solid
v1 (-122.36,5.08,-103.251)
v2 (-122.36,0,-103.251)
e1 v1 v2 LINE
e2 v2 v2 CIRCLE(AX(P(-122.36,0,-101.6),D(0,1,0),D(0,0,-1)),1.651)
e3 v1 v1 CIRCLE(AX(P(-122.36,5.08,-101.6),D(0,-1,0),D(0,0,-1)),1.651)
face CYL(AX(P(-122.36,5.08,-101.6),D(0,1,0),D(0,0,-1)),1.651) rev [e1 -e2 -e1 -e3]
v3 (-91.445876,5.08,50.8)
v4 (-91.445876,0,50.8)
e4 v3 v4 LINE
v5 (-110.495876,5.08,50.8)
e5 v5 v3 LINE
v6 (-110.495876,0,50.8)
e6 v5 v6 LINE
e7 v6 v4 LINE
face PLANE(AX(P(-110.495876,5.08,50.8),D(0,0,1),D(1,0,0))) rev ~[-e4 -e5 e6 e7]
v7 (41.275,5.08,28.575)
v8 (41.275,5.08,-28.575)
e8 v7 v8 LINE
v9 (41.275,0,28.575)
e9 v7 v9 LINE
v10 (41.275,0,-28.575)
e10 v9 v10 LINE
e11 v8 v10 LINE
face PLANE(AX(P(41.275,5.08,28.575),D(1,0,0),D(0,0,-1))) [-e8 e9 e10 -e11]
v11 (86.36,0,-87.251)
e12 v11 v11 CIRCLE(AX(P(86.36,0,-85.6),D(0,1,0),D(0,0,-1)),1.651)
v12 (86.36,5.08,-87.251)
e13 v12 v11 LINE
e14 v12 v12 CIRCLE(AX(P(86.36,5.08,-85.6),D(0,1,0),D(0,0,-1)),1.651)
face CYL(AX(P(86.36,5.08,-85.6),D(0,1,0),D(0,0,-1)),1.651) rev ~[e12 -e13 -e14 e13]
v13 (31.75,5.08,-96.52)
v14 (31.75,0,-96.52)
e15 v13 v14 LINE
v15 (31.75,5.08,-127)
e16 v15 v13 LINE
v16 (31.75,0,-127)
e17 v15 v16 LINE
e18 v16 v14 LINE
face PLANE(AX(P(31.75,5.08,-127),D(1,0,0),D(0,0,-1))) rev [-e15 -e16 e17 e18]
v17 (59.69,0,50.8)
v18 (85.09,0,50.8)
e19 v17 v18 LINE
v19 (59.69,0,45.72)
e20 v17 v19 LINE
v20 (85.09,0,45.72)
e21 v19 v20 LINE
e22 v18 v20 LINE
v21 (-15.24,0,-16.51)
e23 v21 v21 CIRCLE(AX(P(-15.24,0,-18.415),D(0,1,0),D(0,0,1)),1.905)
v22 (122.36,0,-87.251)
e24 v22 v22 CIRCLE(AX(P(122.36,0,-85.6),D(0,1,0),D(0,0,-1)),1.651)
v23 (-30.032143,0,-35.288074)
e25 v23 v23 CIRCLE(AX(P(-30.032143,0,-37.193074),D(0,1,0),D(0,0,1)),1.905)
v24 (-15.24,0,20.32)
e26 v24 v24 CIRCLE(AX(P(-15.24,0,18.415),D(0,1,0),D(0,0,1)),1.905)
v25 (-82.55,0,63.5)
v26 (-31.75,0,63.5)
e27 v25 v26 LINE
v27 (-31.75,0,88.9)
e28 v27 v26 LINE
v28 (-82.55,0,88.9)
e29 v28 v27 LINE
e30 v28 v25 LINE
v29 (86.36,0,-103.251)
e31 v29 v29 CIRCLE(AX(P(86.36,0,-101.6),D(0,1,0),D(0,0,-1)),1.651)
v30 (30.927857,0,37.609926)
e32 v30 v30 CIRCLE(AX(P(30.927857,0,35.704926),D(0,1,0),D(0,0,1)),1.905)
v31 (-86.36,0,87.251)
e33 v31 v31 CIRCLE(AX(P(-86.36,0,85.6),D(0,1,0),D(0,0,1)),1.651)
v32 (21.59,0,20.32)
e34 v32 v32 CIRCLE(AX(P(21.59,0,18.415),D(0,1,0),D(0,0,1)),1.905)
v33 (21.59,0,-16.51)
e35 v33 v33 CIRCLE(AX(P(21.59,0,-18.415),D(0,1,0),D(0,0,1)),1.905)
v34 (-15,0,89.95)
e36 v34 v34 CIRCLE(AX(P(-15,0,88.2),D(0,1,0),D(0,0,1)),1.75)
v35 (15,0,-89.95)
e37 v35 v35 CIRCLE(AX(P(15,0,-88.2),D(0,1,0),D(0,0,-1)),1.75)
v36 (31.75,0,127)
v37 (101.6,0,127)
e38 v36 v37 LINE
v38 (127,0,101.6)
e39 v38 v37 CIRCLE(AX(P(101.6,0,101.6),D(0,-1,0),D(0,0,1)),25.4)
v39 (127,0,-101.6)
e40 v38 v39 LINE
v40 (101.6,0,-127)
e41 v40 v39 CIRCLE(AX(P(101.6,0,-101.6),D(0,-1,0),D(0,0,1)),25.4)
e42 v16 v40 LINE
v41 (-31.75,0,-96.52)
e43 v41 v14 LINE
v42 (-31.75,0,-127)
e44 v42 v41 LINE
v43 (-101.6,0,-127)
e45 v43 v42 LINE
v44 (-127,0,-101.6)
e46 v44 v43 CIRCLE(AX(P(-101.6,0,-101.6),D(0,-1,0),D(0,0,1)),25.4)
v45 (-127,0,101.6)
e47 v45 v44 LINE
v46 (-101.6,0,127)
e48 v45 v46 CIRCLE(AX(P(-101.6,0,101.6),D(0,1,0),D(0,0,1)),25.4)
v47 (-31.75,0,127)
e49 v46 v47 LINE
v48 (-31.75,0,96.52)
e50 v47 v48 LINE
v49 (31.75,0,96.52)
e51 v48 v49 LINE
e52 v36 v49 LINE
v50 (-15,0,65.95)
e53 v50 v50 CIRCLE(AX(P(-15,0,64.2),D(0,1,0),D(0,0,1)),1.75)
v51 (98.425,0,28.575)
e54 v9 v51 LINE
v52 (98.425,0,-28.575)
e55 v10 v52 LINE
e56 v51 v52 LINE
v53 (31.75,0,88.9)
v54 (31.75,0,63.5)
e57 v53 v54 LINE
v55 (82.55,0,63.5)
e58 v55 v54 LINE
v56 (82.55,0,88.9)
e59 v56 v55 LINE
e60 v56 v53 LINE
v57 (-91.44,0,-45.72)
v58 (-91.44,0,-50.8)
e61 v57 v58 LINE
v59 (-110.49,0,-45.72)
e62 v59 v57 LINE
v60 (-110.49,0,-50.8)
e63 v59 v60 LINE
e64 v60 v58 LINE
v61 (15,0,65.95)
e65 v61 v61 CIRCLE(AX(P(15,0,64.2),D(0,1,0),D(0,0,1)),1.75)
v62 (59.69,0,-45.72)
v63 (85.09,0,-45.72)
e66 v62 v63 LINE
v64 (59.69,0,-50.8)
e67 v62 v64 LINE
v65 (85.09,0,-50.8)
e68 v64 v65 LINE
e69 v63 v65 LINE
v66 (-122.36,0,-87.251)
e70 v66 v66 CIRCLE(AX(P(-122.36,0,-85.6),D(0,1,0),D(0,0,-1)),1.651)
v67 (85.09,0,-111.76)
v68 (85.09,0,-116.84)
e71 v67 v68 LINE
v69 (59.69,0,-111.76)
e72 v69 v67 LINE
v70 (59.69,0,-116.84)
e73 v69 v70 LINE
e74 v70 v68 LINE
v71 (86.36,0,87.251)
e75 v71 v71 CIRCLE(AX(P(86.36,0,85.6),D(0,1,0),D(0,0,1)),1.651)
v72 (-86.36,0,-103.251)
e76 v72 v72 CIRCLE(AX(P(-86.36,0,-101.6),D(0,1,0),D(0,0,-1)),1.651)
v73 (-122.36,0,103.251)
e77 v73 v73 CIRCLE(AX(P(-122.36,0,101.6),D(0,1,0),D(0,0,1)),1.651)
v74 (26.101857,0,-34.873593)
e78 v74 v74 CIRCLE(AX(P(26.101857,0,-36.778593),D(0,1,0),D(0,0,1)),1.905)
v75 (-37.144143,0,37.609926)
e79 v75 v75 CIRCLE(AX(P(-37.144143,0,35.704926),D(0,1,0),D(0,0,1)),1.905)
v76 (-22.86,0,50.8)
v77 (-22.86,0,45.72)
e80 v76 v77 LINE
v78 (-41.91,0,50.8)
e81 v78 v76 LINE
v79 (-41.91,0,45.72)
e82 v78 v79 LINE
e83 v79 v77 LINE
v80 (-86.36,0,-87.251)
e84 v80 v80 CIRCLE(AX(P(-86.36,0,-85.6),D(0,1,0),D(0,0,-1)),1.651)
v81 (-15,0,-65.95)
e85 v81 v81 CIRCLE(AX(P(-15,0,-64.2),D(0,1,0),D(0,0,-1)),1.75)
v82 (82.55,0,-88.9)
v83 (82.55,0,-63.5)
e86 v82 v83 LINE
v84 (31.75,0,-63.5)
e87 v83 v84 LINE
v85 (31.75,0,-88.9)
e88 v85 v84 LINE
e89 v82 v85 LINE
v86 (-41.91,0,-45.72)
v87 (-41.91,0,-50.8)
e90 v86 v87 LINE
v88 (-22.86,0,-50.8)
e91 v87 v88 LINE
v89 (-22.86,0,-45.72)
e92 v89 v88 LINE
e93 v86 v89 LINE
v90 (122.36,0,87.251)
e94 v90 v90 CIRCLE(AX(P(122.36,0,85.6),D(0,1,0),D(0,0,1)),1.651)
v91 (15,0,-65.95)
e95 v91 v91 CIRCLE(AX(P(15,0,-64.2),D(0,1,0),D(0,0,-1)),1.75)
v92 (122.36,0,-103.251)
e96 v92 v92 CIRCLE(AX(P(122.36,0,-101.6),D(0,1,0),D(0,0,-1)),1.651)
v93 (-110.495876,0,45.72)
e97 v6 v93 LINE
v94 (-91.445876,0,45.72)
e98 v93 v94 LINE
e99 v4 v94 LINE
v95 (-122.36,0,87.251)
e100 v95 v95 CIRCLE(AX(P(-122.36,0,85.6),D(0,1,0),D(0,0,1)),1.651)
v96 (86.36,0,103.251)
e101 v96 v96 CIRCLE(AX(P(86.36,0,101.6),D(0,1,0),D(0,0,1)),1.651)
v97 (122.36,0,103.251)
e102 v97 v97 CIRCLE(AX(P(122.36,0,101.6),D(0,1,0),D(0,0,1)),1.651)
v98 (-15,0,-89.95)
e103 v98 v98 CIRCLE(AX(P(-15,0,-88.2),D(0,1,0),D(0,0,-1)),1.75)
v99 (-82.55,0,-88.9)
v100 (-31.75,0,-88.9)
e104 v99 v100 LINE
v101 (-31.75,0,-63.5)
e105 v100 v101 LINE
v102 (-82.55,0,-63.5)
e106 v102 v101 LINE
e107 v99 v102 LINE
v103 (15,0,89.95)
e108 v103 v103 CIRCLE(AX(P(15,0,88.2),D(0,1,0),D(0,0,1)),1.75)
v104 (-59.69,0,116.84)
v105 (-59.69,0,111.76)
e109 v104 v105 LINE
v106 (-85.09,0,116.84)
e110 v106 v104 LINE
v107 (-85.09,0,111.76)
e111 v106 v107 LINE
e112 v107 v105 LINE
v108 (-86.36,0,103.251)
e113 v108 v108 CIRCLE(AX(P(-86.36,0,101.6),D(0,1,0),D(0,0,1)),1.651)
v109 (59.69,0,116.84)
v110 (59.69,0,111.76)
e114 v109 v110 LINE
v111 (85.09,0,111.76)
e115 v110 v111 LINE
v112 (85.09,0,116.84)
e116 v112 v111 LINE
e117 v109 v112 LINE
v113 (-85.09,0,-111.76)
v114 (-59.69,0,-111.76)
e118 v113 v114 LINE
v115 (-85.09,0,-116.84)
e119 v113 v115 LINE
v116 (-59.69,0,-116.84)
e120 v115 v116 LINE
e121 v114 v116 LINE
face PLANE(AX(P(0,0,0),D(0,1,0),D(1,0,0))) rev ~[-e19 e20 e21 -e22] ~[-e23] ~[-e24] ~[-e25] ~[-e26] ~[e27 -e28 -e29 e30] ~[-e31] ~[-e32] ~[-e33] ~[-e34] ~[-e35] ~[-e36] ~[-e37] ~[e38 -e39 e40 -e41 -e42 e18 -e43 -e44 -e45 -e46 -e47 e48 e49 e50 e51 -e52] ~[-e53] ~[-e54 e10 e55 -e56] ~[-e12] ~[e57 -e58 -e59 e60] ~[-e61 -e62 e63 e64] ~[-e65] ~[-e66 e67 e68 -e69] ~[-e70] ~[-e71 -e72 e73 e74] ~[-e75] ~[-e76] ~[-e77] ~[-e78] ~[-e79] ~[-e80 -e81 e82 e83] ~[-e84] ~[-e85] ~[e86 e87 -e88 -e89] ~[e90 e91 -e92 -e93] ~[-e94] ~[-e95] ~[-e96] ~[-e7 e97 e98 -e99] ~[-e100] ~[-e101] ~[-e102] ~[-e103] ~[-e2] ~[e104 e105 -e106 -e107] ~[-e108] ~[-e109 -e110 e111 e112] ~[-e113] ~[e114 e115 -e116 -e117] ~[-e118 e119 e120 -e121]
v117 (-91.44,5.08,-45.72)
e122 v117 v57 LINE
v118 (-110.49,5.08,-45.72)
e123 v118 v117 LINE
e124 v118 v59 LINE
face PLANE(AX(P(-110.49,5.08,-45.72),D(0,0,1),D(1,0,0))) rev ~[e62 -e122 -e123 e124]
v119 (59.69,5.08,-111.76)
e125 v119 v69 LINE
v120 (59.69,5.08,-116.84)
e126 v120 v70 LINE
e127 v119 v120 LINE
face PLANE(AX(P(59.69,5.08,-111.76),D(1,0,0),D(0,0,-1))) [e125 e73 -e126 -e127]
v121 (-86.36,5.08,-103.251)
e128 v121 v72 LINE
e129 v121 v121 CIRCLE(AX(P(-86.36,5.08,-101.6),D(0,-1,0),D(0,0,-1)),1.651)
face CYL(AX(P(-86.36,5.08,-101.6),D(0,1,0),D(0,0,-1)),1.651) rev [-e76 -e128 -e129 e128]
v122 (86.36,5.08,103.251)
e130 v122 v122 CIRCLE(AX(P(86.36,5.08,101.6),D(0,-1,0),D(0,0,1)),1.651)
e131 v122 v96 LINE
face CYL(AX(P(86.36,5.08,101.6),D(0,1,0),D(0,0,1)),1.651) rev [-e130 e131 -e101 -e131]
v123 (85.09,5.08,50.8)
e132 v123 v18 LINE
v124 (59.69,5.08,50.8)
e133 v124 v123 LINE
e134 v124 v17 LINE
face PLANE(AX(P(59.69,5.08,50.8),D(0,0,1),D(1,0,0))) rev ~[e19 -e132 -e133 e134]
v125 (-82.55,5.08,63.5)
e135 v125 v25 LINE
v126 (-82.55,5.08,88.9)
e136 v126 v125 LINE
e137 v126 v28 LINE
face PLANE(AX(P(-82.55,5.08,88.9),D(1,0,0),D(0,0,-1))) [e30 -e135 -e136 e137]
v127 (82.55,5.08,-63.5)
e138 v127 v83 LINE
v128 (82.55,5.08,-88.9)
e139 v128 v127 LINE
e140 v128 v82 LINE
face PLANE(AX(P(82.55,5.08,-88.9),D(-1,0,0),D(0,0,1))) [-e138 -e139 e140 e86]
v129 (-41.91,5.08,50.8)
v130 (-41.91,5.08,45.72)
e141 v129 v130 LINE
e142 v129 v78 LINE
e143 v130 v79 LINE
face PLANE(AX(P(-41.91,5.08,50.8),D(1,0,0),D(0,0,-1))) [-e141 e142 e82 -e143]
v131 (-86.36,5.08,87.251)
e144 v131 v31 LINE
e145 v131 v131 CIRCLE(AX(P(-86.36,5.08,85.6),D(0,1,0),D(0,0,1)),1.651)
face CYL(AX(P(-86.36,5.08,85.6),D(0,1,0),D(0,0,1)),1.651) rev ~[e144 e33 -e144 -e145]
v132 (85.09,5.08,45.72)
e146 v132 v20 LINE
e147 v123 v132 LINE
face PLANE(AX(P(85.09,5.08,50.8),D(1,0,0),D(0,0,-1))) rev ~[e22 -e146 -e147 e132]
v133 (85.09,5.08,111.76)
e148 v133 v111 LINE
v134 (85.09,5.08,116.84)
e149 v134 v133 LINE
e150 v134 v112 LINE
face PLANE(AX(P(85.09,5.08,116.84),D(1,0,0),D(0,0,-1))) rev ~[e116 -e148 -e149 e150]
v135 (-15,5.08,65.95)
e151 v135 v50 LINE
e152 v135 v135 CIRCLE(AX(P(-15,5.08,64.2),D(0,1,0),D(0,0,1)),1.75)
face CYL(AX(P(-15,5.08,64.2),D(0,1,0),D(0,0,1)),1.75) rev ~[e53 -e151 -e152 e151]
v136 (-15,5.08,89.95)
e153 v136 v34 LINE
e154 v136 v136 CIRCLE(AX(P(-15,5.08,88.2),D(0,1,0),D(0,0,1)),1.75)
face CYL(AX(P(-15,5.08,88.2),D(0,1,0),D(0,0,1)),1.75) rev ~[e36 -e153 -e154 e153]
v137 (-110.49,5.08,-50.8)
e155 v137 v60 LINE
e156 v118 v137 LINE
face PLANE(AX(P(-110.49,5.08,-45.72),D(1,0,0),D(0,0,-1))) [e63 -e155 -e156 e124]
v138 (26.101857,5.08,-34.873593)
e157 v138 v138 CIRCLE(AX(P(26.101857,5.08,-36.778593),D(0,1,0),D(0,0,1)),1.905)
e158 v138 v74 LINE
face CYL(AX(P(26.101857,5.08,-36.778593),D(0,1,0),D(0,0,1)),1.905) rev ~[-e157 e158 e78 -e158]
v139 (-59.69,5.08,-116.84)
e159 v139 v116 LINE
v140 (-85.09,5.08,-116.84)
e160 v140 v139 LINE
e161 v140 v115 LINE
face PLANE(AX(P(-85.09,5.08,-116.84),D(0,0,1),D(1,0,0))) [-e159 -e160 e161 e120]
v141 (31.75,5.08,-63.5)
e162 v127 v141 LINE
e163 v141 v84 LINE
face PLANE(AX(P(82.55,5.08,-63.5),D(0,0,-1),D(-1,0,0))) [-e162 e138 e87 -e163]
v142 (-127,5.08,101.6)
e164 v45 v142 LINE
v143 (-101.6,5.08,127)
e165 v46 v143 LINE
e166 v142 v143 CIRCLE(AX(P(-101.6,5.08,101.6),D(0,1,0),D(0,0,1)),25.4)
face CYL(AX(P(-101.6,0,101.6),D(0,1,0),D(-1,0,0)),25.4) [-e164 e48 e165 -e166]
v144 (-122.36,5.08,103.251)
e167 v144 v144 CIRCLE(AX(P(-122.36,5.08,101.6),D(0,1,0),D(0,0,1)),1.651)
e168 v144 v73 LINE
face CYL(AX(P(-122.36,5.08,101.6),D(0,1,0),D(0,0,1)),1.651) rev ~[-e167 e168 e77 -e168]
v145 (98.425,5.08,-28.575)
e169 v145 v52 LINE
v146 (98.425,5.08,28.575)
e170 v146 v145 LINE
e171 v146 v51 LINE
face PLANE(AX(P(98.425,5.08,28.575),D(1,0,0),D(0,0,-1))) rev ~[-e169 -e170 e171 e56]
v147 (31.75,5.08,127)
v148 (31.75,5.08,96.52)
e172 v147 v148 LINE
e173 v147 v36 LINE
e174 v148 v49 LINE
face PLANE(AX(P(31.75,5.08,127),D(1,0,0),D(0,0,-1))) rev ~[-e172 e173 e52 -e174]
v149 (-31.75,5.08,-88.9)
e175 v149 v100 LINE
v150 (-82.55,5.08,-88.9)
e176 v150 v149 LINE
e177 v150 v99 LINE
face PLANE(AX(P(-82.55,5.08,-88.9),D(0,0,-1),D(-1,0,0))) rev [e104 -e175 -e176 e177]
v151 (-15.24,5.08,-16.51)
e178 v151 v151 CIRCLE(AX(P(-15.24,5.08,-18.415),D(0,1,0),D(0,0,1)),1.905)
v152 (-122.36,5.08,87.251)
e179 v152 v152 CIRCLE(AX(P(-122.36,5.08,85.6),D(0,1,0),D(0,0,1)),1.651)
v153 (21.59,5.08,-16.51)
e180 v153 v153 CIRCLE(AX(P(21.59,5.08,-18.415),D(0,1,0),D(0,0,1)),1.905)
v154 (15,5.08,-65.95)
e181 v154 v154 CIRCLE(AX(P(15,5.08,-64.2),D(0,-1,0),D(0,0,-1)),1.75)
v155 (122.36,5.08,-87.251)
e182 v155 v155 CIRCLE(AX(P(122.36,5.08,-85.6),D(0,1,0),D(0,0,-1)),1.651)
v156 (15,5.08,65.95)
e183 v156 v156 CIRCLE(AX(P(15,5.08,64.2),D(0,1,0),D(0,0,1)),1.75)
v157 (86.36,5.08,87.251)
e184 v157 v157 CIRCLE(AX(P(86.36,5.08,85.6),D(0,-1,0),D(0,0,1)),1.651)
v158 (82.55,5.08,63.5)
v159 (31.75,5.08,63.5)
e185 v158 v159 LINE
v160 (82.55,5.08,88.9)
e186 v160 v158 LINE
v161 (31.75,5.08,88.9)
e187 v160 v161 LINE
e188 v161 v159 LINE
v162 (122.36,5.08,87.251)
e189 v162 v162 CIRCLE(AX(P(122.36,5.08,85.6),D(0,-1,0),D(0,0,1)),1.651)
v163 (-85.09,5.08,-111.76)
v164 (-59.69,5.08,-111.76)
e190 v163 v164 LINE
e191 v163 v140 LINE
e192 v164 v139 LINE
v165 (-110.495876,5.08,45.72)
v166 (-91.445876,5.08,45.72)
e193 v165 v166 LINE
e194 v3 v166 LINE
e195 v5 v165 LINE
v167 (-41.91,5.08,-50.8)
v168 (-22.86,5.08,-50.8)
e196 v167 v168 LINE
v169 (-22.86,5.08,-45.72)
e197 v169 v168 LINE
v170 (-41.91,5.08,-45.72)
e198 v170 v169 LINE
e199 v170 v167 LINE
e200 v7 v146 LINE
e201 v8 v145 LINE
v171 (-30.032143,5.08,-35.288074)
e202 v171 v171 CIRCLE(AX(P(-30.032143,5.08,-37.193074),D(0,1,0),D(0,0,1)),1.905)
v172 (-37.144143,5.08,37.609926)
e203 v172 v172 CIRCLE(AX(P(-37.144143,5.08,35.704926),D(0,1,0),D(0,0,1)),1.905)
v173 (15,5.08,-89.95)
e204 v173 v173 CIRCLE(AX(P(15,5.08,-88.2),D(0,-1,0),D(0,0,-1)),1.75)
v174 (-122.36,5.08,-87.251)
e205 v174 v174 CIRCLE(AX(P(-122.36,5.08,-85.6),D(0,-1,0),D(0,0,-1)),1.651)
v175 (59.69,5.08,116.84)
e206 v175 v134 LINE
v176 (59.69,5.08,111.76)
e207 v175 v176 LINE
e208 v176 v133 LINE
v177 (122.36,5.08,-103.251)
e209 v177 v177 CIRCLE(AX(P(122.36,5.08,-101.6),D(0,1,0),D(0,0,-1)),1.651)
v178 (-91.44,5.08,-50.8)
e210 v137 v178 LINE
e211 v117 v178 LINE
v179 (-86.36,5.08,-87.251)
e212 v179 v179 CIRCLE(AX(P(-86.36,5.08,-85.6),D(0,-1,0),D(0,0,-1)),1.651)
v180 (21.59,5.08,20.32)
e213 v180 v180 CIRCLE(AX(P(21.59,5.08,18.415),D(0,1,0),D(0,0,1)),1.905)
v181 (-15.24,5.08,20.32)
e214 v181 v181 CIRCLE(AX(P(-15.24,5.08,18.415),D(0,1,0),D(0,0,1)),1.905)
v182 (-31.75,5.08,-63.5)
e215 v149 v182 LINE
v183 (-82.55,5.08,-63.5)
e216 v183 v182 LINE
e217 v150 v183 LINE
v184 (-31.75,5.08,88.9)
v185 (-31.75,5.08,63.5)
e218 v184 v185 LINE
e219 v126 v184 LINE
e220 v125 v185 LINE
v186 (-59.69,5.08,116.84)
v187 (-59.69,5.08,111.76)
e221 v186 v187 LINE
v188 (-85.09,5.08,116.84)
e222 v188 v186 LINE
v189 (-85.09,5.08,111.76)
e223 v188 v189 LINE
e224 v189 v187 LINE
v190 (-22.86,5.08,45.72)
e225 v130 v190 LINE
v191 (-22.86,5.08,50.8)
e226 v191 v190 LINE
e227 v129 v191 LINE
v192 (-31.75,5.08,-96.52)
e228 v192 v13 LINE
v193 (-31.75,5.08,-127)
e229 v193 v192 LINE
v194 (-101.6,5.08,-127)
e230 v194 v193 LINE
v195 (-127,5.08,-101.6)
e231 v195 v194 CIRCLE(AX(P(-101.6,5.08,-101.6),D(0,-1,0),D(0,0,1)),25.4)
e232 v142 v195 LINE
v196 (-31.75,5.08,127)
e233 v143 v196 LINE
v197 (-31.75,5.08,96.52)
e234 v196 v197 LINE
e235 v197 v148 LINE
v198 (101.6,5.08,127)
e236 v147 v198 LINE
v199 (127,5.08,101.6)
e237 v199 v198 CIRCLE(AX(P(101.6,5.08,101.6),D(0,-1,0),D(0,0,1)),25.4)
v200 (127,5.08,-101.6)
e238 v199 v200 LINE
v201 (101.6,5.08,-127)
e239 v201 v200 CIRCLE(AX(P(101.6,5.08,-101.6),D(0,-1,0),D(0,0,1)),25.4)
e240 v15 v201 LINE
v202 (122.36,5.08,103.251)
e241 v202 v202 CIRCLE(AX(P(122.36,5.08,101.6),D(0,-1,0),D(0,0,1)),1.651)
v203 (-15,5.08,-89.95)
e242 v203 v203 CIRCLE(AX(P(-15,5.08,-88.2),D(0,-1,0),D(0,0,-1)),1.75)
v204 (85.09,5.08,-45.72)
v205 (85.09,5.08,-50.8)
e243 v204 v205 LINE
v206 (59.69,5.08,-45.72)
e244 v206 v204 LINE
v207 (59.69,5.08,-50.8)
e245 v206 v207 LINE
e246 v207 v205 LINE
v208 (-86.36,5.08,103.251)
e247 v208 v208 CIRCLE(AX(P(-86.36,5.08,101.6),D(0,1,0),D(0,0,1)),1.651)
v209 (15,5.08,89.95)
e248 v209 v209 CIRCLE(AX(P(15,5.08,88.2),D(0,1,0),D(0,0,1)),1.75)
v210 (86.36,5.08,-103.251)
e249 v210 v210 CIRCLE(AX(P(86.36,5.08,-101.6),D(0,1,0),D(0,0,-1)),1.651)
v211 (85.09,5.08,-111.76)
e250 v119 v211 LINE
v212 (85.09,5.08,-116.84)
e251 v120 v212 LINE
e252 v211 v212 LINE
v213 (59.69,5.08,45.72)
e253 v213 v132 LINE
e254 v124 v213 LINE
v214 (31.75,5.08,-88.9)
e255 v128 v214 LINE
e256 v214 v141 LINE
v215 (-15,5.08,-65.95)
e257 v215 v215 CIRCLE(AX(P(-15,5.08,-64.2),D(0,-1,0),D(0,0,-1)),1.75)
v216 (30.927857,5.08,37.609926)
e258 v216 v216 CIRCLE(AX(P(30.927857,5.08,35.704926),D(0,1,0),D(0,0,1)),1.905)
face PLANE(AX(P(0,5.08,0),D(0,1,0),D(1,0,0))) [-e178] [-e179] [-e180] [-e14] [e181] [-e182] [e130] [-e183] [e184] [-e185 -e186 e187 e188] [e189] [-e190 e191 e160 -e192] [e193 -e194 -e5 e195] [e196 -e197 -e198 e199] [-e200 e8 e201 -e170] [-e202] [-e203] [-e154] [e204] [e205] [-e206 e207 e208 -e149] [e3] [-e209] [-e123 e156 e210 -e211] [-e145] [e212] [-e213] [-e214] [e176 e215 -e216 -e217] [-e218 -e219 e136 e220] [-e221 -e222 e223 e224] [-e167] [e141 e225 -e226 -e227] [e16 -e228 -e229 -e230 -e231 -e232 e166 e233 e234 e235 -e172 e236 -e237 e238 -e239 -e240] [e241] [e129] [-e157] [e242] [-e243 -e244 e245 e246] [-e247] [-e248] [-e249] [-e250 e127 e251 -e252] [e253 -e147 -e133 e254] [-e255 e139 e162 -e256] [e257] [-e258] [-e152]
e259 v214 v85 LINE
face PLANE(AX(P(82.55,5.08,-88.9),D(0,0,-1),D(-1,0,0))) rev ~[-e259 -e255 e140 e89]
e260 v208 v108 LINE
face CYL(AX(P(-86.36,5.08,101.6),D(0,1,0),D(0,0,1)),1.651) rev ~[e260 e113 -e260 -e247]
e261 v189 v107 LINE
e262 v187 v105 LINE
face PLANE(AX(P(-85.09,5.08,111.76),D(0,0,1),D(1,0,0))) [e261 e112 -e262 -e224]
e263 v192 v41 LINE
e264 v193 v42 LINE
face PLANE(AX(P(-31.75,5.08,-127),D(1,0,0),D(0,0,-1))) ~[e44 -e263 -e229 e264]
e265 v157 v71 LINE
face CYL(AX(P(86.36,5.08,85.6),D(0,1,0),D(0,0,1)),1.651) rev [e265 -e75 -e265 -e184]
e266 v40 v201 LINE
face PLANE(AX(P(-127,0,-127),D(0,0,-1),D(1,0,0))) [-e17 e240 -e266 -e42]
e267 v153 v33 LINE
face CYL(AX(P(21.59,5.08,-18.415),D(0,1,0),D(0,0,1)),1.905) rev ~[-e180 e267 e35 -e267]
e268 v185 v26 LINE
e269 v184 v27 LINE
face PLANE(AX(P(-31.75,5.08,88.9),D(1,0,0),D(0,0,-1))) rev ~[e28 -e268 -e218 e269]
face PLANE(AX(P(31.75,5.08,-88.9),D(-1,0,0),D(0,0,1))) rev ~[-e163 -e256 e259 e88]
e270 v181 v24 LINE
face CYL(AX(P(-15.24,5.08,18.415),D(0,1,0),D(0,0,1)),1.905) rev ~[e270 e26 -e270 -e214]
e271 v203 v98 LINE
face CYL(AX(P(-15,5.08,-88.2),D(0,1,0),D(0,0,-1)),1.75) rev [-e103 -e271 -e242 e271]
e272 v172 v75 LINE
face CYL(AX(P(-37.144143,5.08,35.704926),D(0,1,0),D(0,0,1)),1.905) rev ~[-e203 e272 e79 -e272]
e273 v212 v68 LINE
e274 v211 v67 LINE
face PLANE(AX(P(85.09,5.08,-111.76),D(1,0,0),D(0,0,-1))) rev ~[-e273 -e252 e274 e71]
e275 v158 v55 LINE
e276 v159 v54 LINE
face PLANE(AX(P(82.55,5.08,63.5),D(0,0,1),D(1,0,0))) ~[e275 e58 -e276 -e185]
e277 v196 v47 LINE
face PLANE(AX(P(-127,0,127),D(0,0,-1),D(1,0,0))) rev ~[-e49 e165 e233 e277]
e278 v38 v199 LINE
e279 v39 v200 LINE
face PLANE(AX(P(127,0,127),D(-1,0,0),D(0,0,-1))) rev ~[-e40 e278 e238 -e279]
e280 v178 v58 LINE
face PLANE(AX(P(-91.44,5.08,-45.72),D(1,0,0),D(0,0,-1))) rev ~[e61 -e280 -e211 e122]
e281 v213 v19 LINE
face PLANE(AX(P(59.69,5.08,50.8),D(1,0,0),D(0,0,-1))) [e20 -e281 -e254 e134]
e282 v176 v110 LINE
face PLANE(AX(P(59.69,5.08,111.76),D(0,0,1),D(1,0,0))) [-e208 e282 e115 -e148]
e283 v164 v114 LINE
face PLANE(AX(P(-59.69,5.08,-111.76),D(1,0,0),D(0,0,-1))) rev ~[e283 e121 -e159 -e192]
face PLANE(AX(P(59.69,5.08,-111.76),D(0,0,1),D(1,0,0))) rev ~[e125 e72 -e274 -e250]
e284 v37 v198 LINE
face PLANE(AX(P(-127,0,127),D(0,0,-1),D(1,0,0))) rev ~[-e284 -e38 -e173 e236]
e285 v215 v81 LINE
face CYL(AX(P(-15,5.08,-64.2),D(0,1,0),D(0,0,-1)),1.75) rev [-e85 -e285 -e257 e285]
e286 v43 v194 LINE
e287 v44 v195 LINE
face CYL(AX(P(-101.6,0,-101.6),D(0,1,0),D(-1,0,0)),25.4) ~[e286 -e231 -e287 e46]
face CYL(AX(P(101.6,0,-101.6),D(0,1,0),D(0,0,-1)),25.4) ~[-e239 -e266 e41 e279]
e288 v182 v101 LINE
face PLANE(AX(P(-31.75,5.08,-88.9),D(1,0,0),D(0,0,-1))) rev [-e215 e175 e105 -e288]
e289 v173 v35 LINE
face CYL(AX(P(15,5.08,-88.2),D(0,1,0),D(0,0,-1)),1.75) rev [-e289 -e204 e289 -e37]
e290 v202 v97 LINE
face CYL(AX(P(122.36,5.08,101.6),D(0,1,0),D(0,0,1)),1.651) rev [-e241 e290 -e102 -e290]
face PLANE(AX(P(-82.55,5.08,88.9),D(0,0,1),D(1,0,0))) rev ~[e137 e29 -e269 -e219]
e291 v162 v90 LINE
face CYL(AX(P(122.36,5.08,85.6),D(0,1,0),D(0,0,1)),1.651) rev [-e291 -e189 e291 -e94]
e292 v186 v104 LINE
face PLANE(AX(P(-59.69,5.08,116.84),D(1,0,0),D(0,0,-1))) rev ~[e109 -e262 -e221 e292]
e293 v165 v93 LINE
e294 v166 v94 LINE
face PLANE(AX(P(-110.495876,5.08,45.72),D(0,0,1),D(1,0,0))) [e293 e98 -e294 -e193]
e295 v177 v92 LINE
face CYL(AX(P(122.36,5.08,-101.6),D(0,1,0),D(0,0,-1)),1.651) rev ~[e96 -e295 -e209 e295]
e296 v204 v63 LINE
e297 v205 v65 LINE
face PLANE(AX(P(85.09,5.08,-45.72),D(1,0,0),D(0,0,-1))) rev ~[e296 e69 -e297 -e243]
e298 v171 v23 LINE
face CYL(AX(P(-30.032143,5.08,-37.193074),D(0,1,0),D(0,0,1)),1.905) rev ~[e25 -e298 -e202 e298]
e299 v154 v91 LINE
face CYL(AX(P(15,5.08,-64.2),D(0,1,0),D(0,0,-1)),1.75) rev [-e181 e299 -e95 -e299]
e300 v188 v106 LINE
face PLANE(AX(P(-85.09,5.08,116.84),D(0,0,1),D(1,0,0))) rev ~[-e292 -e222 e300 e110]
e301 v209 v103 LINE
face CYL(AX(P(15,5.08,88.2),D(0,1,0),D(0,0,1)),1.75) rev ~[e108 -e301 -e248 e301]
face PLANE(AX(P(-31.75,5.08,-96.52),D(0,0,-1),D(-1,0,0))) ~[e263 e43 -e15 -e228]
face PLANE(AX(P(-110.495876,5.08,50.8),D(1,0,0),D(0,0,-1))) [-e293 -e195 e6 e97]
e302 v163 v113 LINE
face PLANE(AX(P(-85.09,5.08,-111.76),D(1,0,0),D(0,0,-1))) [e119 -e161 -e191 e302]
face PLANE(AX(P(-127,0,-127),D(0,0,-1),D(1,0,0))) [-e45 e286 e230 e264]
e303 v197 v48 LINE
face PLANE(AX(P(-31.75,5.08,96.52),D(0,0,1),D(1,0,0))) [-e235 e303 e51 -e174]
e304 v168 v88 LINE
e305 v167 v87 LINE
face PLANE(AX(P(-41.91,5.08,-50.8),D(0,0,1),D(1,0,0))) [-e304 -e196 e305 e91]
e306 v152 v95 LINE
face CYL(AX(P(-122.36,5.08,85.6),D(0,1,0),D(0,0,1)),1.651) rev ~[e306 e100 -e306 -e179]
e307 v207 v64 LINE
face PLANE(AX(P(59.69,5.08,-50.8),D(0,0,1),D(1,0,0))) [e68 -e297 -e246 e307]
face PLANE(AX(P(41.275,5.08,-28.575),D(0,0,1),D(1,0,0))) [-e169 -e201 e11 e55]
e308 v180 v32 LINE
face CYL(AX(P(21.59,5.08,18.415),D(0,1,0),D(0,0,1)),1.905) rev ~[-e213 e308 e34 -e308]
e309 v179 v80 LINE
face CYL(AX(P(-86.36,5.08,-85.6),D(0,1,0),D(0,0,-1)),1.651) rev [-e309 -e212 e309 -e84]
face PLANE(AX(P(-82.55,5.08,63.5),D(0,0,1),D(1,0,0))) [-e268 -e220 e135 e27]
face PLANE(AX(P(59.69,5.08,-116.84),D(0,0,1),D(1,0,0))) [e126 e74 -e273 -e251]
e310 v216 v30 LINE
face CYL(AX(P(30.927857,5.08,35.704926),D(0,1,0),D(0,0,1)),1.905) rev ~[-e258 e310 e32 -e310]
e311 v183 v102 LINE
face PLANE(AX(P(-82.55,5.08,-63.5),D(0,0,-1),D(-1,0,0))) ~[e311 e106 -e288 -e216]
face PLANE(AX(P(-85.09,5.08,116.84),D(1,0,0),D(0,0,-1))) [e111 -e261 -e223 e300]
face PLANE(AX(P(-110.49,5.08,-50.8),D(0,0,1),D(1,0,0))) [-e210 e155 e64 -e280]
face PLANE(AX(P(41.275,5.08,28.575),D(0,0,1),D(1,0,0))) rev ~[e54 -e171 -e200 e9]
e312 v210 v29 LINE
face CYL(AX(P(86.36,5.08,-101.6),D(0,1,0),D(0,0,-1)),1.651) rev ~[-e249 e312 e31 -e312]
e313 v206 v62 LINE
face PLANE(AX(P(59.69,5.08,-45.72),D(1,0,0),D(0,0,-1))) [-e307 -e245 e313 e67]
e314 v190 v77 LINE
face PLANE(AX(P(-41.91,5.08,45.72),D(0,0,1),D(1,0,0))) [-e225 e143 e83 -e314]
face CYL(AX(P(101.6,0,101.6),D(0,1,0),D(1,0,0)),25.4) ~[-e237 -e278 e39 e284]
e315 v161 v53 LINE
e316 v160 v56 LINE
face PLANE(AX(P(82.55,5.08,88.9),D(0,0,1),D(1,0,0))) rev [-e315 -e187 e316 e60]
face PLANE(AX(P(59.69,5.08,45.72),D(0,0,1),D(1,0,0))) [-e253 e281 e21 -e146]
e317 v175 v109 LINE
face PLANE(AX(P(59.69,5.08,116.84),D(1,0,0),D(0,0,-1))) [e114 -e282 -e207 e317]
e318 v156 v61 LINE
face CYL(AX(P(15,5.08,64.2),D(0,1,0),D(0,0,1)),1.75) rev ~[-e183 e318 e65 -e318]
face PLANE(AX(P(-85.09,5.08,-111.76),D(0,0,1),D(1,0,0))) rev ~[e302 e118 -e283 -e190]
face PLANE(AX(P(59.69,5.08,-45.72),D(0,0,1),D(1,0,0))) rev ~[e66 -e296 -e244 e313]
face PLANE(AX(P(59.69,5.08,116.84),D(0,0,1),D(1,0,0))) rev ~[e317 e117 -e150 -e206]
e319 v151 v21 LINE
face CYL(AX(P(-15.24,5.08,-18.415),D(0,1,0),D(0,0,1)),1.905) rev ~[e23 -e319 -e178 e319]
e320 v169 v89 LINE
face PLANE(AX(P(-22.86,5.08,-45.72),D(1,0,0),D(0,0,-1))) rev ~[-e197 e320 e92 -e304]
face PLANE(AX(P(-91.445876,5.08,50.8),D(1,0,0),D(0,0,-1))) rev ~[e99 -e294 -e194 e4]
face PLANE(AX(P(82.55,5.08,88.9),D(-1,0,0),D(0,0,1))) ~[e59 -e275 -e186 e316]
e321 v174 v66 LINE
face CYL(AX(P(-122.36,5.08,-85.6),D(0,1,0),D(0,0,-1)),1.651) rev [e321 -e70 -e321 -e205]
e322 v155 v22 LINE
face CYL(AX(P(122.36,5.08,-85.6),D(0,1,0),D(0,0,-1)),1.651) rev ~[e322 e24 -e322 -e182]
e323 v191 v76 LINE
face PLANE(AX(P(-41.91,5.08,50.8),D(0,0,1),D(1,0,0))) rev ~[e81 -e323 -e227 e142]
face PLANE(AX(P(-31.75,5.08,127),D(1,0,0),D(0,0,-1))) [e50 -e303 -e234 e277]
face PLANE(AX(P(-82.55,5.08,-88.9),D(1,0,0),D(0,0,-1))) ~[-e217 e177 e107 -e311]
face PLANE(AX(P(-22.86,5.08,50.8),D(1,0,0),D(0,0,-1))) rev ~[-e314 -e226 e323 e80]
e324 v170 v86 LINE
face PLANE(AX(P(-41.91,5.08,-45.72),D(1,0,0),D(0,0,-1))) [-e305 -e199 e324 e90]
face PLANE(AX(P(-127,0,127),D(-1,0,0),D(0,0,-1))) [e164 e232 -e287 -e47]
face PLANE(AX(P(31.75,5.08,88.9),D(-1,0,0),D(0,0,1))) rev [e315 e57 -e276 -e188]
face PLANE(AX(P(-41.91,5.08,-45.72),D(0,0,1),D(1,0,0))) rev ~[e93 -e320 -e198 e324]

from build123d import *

# Parameters (mm, degrees)
SKETCH1_W               = 254
SKETCH1_H               = 254
PLATFORM_BASE_DEPTH     = 5.08
SKETCH9_W               = 25.4
SKETCH9_H               = 5.08
SKETCH9_W_2             = 19.05
CUT_EXTRUDE6_DEPTH      = 180.676950108
SKETCH3_R               = 1.75
CUT_EXTRUDE1_DEPTH      = 180.676950108
SKETCH4_W               = 63.5
SKETCH4_H               = 30.48
CUT_EXTRUDE2_DEPTH      = 180.676950108
CORNER_ROUNDING_R       = 25.4
SKETCH8_W               = 57.15
SKETCH8_H               = 57.15
CUT_EXTRUDE5_DEPTH      = 180.676950108
SKETCH10_W              = 50.8
SKETCH10_H              = 25.4
CUT_EXTRUDE7_DEPTH      = 180.676950108
SKETCH11_R              = 1.905
CUT_EXTRUDE8_DEPTH      = 180.676950108
SKETCH12_R              = 1.905
CUT_EXTRUDE9_DEPTH      = 180.676950108
SKETCH13_R              = 1.651
CUT_EXTRUDE10_DEPTH     = 180.676950108
MIRROR5_COPY_1_SKETCH_R = 1.651
MIRROR5_COPY_1_DEPTH    = 180.676950108
MIRROR5_COPY_2_SKETCH_R = 1.651
MIRROR5_COPY_2_DEPTH    = 180.676950108
MIRROR7_COPY_1_SKETCH_W = 50.8
MIRROR7_COPY_1_SKETCH_H = 25.4
MIRROR7_COPY_1_DEPTH    = 180.676950108
MIRROR7_COPY_2_SKETCH_W = 50.8
MIRROR7_COPY_2_SKETCH_H = 25.4
MIRROR7_COPY_2_DEPTH    = 180.676950108


with BuildPart() as part:
    # Sketch1 → Platform-Base (new body)
    with BuildSketch(Plane(origin=(0, 0, 0), x_dir=(1, 0, 0), z_dir=(0, 1, 0))):
        Rectangle(SKETCH1_W, SKETCH1_H)
    extrude(amount=PLATFORM_BASE_DEPTH)

    # Sketch9 → Cut-Extrude6 (cut, through all)
    with BuildSketch(Plane(origin=(0, 5.08, 0), x_dir=(1, 0, 0), z_dir=(0, 1, 0))):
        with Locations((-72.39, -114.3)):
            Rectangle(SKETCH9_W, SKETCH9_H)
        with Locations((72.39, -114.3)):
            Rectangle(SKETCH9_W, SKETCH9_H)
        with Locations((72.39, 114.3)):
            Rectangle(SKETCH9_W, SKETCH9_H)
        with Locations((-72.39, 114.3)):
            Rectangle(SKETCH9_W, SKETCH9_H)
        with Locations((72.39, -48.26)):
            Rectangle(SKETCH9_W, SKETCH9_H)
        with Locations((72.39, 48.26)):
            Rectangle(SKETCH9_W, SKETCH9_H)
        with Locations((-32.385, 48.26)):
            Rectangle(SKETCH9_W_2, SKETCH9_H)
        with Locations((-100.965, 48.26)):
            Rectangle(SKETCH9_W_2, SKETCH9_H)
        with Locations((-32.385, -48.26)):
            Rectangle(SKETCH9_W_2, SKETCH9_H)
        with Locations((-100.970875941, -48.26)):
            Rectangle(SKETCH9_W_2, SKETCH9_H)
    extrude(amount=-CUT_EXTRUDE6_DEPTH, mode=Mode.SUBTRACT)

    # Sketch3 → Cut-Extrude1 (cut, through all)
    with BuildSketch(Plane(origin=(0, 5.08, 0), x_dir=(1, 0, 0), z_dir=(0, 1, 0))):
        with Locations((15, -64.2)):
            Circle(SKETCH3_R)
        with Locations((15, -88.2)):
            Circle(SKETCH3_R)
        with Locations((-15, -88.2)):
            Circle(SKETCH3_R)
        with Locations((-15, -64.2)):
            Circle(SKETCH3_R)
    cut_extrude1 = extrude(amount=-CUT_EXTRUDE1_DEPTH, mode=Mode.SUBTRACT)

    # Mirror2: Cut-Extrude1 across plane
    add(cut_extrude1.mirror(Plane.XY), mode=Mode.SUBTRACT)

    # Sketch4 → Cut-Extrude2 (cut, through all)
    with BuildSketch(Plane(origin=(0, 5.08, 0), x_dir=(1, 0, 0), z_dir=(0, 1, 0))):
        with Locations((0, -111.76)):
            Rectangle(SKETCH4_W, SKETCH4_H)
    cut_extrude2 = extrude(amount=-CUT_EXTRUDE2_DEPTH, mode=Mode.SUBTRACT)

    # Mirror3: Cut-Extrude2 across plane
    add(cut_extrude2.mirror(Plane.XY), mode=Mode.SUBTRACT)

    # Corner-Rounding
    corner_rounding_edges = [part.edges().sort_by_distance(p)[0] for p in [
        (-127, 2.54, -127),
        (127, 2.54, -127),
        (127, 2.54, 127),
        (-127, 2.54, 127),
    ]]
    fillet(corner_rounding_edges, radius=CORNER_ROUNDING_R)

    # Sketch8 → Cut-Extrude5 (cut, through all)
    with BuildSketch(Plane(origin=(0, 5.08, 0), x_dir=(1, 0, 0), z_dir=(0, 1, 0))):
        with Locations((69.85, 0)):
            Rectangle(SKETCH8_W, SKETCH8_H)
    extrude(amount=-CUT_EXTRUDE5_DEPTH, mode=Mode.SUBTRACT)

    # Sketch10 → Cut-Extrude7 (cut, through all)
    with BuildSketch(Plane(origin=(0, 5.08, 0), x_dir=(1, 0, 0), z_dir=(0, 1, 0))):
        with Locations((-57.15, -76.2)):
            Rectangle(SKETCH10_W, SKETCH10_H)
    cut_extrude7 = extrude(amount=-CUT_EXTRUDE7_DEPTH, mode=Mode.SUBTRACT)

    # Sketch11 → Cut-Extrude8 (cut, through all)
    with BuildSketch(Plane(origin=(0, 5.08, 0), x_dir=(1, 0, 0), z_dir=(0, 1, 0))):
        with Locations((-15.24, -18.415)):
            Circle(SKETCH11_R)
        with Locations((-15.24, 18.415)):
            Circle(SKETCH11_R)
        with Locations((21.59, 18.415)):
            Circle(SKETCH11_R)
        with Locations((21.59, -18.415)):
            Circle(SKETCH11_R)
    extrude(amount=-CUT_EXTRUDE8_DEPTH, mode=Mode.SUBTRACT)

    # Sketch12 → Cut-Extrude9 (cut, through all)
    with BuildSketch(Plane(origin=(0, 5.08, 0), x_dir=(1, 0, 0), z_dir=(0, 1, 0))):
        with Locations((30.927856532, -35.704925997)):
            Circle(SKETCH12_R)
        with Locations((-37.144143468, -35.704925997)):
            Circle(SKETCH12_R)
        with Locations((26.101856532, 36.778592543)):
            Circle(SKETCH12_R)
        with Locations((-30.032143468, 37.193074003)):
            Circle(SKETCH12_R)
    extrude(amount=-CUT_EXTRUDE9_DEPTH, mode=Mode.SUBTRACT)

    # Sketch13 → Cut-Extrude10 (cut, through all)
    with BuildSketch(Plane(origin=(0, 5.08, 0), x_dir=(1, 0, 0), z_dir=(0, 1, 0))):
        with Locations((-86.36, -101.6)):
            Circle(SKETCH13_R)
        with Locations((-122.36, -101.6)):
            Circle(SKETCH13_R)
        with Locations((-122.36, -85.6)):
            Circle(SKETCH13_R)
        with Locations((-86.36, -85.6)):
            Circle(SKETCH13_R)
    cut_extrude10 = extrude(amount=-CUT_EXTRUDE10_DEPTH, mode=Mode.SUBTRACT)

    # Mirror4: Cut-Extrude10 across plane
    add(cut_extrude10.mirror(Plane.XY), mode=Mode.SUBTRACT)

    # Mirror5 copy 1 sketch → Mirror5 copy 1 (cut, through all)
    with BuildSketch(Plane(origin=(0, 5.08, 0), x_dir=(-1, 0, 0), z_dir=(0, 1, 0))):
        with Locations((-86.36, -101.6)):
            Circle(MIRROR5_COPY_1_SKETCH_R)
        with Locations((-122.36, -101.6)):
            Circle(MIRROR5_COPY_1_SKETCH_R)
        with Locations((-122.36, -85.6)):
            Circle(MIRROR5_COPY_1_SKETCH_R)
        with Locations((-86.36, -85.6)):
            Circle(MIRROR5_COPY_1_SKETCH_R)
    extrude(amount=-MIRROR5_COPY_1_DEPTH, mode=Mode.SUBTRACT)

    # Mirror5 copy 2 sketch → Mirror5 copy 2 (cut, through all)
    with BuildSketch(Plane(origin=(0, 5.08, 0), x_dir=(-1, 0, 0), z_dir=(0, 1, 0))):
        with Locations((-86.36, 101.6)):
            Circle(MIRROR5_COPY_2_SKETCH_R)
        with Locations((-122.36, 101.6)):
            Circle(MIRROR5_COPY_2_SKETCH_R)
        with Locations((-122.36, 85.6)):
            Circle(MIRROR5_COPY_2_SKETCH_R)
        with Locations((-86.36, 85.6)):
            Circle(MIRROR5_COPY_2_SKETCH_R)
    extrude(amount=-MIRROR5_COPY_2_DEPTH, mode=Mode.SUBTRACT)

    # Mirror6: Cut-Extrude7 across plane
    add(cut_extrude7.mirror(Plane(origin=(0, 0, 0), x_dir=(0, 0, 1), z_dir=(1, 0, 0))), mode=Mode.SUBTRACT)

    # Mirror7 copy 1 sketch → Mirror7 copy 1 (cut, through all)
    with BuildSketch(Plane(origin=(0, 5.08, 0), x_dir=(-1, 0, 0), z_dir=(0, 1, 0))):
        with Locations((-57.15, -76.2)):
            Rectangle(MIRROR7_COPY_1_SKETCH_W, MIRROR7_COPY_1_SKETCH_H)
    extrude(amount=-MIRROR7_COPY_1_DEPTH, mode=Mode.SUBTRACT)

    # Mirror7 copy 2 sketch → Mirror7 copy 2 (cut, through all)
    with BuildSketch(Plane(origin=(0, 5.08, 0), x_dir=(1, 0, 0), z_dir=(0, 1, 0))):
        with Locations((-57.15, 76.2)):
            Rectangle(MIRROR7_COPY_2_SKETCH_W, MIRROR7_COPY_2_SKETCH_H)
    extrude(amount=-MIRROR7_COPY_2_DEPTH, mode=Mode.SUBTRACT)


solid = part.part
